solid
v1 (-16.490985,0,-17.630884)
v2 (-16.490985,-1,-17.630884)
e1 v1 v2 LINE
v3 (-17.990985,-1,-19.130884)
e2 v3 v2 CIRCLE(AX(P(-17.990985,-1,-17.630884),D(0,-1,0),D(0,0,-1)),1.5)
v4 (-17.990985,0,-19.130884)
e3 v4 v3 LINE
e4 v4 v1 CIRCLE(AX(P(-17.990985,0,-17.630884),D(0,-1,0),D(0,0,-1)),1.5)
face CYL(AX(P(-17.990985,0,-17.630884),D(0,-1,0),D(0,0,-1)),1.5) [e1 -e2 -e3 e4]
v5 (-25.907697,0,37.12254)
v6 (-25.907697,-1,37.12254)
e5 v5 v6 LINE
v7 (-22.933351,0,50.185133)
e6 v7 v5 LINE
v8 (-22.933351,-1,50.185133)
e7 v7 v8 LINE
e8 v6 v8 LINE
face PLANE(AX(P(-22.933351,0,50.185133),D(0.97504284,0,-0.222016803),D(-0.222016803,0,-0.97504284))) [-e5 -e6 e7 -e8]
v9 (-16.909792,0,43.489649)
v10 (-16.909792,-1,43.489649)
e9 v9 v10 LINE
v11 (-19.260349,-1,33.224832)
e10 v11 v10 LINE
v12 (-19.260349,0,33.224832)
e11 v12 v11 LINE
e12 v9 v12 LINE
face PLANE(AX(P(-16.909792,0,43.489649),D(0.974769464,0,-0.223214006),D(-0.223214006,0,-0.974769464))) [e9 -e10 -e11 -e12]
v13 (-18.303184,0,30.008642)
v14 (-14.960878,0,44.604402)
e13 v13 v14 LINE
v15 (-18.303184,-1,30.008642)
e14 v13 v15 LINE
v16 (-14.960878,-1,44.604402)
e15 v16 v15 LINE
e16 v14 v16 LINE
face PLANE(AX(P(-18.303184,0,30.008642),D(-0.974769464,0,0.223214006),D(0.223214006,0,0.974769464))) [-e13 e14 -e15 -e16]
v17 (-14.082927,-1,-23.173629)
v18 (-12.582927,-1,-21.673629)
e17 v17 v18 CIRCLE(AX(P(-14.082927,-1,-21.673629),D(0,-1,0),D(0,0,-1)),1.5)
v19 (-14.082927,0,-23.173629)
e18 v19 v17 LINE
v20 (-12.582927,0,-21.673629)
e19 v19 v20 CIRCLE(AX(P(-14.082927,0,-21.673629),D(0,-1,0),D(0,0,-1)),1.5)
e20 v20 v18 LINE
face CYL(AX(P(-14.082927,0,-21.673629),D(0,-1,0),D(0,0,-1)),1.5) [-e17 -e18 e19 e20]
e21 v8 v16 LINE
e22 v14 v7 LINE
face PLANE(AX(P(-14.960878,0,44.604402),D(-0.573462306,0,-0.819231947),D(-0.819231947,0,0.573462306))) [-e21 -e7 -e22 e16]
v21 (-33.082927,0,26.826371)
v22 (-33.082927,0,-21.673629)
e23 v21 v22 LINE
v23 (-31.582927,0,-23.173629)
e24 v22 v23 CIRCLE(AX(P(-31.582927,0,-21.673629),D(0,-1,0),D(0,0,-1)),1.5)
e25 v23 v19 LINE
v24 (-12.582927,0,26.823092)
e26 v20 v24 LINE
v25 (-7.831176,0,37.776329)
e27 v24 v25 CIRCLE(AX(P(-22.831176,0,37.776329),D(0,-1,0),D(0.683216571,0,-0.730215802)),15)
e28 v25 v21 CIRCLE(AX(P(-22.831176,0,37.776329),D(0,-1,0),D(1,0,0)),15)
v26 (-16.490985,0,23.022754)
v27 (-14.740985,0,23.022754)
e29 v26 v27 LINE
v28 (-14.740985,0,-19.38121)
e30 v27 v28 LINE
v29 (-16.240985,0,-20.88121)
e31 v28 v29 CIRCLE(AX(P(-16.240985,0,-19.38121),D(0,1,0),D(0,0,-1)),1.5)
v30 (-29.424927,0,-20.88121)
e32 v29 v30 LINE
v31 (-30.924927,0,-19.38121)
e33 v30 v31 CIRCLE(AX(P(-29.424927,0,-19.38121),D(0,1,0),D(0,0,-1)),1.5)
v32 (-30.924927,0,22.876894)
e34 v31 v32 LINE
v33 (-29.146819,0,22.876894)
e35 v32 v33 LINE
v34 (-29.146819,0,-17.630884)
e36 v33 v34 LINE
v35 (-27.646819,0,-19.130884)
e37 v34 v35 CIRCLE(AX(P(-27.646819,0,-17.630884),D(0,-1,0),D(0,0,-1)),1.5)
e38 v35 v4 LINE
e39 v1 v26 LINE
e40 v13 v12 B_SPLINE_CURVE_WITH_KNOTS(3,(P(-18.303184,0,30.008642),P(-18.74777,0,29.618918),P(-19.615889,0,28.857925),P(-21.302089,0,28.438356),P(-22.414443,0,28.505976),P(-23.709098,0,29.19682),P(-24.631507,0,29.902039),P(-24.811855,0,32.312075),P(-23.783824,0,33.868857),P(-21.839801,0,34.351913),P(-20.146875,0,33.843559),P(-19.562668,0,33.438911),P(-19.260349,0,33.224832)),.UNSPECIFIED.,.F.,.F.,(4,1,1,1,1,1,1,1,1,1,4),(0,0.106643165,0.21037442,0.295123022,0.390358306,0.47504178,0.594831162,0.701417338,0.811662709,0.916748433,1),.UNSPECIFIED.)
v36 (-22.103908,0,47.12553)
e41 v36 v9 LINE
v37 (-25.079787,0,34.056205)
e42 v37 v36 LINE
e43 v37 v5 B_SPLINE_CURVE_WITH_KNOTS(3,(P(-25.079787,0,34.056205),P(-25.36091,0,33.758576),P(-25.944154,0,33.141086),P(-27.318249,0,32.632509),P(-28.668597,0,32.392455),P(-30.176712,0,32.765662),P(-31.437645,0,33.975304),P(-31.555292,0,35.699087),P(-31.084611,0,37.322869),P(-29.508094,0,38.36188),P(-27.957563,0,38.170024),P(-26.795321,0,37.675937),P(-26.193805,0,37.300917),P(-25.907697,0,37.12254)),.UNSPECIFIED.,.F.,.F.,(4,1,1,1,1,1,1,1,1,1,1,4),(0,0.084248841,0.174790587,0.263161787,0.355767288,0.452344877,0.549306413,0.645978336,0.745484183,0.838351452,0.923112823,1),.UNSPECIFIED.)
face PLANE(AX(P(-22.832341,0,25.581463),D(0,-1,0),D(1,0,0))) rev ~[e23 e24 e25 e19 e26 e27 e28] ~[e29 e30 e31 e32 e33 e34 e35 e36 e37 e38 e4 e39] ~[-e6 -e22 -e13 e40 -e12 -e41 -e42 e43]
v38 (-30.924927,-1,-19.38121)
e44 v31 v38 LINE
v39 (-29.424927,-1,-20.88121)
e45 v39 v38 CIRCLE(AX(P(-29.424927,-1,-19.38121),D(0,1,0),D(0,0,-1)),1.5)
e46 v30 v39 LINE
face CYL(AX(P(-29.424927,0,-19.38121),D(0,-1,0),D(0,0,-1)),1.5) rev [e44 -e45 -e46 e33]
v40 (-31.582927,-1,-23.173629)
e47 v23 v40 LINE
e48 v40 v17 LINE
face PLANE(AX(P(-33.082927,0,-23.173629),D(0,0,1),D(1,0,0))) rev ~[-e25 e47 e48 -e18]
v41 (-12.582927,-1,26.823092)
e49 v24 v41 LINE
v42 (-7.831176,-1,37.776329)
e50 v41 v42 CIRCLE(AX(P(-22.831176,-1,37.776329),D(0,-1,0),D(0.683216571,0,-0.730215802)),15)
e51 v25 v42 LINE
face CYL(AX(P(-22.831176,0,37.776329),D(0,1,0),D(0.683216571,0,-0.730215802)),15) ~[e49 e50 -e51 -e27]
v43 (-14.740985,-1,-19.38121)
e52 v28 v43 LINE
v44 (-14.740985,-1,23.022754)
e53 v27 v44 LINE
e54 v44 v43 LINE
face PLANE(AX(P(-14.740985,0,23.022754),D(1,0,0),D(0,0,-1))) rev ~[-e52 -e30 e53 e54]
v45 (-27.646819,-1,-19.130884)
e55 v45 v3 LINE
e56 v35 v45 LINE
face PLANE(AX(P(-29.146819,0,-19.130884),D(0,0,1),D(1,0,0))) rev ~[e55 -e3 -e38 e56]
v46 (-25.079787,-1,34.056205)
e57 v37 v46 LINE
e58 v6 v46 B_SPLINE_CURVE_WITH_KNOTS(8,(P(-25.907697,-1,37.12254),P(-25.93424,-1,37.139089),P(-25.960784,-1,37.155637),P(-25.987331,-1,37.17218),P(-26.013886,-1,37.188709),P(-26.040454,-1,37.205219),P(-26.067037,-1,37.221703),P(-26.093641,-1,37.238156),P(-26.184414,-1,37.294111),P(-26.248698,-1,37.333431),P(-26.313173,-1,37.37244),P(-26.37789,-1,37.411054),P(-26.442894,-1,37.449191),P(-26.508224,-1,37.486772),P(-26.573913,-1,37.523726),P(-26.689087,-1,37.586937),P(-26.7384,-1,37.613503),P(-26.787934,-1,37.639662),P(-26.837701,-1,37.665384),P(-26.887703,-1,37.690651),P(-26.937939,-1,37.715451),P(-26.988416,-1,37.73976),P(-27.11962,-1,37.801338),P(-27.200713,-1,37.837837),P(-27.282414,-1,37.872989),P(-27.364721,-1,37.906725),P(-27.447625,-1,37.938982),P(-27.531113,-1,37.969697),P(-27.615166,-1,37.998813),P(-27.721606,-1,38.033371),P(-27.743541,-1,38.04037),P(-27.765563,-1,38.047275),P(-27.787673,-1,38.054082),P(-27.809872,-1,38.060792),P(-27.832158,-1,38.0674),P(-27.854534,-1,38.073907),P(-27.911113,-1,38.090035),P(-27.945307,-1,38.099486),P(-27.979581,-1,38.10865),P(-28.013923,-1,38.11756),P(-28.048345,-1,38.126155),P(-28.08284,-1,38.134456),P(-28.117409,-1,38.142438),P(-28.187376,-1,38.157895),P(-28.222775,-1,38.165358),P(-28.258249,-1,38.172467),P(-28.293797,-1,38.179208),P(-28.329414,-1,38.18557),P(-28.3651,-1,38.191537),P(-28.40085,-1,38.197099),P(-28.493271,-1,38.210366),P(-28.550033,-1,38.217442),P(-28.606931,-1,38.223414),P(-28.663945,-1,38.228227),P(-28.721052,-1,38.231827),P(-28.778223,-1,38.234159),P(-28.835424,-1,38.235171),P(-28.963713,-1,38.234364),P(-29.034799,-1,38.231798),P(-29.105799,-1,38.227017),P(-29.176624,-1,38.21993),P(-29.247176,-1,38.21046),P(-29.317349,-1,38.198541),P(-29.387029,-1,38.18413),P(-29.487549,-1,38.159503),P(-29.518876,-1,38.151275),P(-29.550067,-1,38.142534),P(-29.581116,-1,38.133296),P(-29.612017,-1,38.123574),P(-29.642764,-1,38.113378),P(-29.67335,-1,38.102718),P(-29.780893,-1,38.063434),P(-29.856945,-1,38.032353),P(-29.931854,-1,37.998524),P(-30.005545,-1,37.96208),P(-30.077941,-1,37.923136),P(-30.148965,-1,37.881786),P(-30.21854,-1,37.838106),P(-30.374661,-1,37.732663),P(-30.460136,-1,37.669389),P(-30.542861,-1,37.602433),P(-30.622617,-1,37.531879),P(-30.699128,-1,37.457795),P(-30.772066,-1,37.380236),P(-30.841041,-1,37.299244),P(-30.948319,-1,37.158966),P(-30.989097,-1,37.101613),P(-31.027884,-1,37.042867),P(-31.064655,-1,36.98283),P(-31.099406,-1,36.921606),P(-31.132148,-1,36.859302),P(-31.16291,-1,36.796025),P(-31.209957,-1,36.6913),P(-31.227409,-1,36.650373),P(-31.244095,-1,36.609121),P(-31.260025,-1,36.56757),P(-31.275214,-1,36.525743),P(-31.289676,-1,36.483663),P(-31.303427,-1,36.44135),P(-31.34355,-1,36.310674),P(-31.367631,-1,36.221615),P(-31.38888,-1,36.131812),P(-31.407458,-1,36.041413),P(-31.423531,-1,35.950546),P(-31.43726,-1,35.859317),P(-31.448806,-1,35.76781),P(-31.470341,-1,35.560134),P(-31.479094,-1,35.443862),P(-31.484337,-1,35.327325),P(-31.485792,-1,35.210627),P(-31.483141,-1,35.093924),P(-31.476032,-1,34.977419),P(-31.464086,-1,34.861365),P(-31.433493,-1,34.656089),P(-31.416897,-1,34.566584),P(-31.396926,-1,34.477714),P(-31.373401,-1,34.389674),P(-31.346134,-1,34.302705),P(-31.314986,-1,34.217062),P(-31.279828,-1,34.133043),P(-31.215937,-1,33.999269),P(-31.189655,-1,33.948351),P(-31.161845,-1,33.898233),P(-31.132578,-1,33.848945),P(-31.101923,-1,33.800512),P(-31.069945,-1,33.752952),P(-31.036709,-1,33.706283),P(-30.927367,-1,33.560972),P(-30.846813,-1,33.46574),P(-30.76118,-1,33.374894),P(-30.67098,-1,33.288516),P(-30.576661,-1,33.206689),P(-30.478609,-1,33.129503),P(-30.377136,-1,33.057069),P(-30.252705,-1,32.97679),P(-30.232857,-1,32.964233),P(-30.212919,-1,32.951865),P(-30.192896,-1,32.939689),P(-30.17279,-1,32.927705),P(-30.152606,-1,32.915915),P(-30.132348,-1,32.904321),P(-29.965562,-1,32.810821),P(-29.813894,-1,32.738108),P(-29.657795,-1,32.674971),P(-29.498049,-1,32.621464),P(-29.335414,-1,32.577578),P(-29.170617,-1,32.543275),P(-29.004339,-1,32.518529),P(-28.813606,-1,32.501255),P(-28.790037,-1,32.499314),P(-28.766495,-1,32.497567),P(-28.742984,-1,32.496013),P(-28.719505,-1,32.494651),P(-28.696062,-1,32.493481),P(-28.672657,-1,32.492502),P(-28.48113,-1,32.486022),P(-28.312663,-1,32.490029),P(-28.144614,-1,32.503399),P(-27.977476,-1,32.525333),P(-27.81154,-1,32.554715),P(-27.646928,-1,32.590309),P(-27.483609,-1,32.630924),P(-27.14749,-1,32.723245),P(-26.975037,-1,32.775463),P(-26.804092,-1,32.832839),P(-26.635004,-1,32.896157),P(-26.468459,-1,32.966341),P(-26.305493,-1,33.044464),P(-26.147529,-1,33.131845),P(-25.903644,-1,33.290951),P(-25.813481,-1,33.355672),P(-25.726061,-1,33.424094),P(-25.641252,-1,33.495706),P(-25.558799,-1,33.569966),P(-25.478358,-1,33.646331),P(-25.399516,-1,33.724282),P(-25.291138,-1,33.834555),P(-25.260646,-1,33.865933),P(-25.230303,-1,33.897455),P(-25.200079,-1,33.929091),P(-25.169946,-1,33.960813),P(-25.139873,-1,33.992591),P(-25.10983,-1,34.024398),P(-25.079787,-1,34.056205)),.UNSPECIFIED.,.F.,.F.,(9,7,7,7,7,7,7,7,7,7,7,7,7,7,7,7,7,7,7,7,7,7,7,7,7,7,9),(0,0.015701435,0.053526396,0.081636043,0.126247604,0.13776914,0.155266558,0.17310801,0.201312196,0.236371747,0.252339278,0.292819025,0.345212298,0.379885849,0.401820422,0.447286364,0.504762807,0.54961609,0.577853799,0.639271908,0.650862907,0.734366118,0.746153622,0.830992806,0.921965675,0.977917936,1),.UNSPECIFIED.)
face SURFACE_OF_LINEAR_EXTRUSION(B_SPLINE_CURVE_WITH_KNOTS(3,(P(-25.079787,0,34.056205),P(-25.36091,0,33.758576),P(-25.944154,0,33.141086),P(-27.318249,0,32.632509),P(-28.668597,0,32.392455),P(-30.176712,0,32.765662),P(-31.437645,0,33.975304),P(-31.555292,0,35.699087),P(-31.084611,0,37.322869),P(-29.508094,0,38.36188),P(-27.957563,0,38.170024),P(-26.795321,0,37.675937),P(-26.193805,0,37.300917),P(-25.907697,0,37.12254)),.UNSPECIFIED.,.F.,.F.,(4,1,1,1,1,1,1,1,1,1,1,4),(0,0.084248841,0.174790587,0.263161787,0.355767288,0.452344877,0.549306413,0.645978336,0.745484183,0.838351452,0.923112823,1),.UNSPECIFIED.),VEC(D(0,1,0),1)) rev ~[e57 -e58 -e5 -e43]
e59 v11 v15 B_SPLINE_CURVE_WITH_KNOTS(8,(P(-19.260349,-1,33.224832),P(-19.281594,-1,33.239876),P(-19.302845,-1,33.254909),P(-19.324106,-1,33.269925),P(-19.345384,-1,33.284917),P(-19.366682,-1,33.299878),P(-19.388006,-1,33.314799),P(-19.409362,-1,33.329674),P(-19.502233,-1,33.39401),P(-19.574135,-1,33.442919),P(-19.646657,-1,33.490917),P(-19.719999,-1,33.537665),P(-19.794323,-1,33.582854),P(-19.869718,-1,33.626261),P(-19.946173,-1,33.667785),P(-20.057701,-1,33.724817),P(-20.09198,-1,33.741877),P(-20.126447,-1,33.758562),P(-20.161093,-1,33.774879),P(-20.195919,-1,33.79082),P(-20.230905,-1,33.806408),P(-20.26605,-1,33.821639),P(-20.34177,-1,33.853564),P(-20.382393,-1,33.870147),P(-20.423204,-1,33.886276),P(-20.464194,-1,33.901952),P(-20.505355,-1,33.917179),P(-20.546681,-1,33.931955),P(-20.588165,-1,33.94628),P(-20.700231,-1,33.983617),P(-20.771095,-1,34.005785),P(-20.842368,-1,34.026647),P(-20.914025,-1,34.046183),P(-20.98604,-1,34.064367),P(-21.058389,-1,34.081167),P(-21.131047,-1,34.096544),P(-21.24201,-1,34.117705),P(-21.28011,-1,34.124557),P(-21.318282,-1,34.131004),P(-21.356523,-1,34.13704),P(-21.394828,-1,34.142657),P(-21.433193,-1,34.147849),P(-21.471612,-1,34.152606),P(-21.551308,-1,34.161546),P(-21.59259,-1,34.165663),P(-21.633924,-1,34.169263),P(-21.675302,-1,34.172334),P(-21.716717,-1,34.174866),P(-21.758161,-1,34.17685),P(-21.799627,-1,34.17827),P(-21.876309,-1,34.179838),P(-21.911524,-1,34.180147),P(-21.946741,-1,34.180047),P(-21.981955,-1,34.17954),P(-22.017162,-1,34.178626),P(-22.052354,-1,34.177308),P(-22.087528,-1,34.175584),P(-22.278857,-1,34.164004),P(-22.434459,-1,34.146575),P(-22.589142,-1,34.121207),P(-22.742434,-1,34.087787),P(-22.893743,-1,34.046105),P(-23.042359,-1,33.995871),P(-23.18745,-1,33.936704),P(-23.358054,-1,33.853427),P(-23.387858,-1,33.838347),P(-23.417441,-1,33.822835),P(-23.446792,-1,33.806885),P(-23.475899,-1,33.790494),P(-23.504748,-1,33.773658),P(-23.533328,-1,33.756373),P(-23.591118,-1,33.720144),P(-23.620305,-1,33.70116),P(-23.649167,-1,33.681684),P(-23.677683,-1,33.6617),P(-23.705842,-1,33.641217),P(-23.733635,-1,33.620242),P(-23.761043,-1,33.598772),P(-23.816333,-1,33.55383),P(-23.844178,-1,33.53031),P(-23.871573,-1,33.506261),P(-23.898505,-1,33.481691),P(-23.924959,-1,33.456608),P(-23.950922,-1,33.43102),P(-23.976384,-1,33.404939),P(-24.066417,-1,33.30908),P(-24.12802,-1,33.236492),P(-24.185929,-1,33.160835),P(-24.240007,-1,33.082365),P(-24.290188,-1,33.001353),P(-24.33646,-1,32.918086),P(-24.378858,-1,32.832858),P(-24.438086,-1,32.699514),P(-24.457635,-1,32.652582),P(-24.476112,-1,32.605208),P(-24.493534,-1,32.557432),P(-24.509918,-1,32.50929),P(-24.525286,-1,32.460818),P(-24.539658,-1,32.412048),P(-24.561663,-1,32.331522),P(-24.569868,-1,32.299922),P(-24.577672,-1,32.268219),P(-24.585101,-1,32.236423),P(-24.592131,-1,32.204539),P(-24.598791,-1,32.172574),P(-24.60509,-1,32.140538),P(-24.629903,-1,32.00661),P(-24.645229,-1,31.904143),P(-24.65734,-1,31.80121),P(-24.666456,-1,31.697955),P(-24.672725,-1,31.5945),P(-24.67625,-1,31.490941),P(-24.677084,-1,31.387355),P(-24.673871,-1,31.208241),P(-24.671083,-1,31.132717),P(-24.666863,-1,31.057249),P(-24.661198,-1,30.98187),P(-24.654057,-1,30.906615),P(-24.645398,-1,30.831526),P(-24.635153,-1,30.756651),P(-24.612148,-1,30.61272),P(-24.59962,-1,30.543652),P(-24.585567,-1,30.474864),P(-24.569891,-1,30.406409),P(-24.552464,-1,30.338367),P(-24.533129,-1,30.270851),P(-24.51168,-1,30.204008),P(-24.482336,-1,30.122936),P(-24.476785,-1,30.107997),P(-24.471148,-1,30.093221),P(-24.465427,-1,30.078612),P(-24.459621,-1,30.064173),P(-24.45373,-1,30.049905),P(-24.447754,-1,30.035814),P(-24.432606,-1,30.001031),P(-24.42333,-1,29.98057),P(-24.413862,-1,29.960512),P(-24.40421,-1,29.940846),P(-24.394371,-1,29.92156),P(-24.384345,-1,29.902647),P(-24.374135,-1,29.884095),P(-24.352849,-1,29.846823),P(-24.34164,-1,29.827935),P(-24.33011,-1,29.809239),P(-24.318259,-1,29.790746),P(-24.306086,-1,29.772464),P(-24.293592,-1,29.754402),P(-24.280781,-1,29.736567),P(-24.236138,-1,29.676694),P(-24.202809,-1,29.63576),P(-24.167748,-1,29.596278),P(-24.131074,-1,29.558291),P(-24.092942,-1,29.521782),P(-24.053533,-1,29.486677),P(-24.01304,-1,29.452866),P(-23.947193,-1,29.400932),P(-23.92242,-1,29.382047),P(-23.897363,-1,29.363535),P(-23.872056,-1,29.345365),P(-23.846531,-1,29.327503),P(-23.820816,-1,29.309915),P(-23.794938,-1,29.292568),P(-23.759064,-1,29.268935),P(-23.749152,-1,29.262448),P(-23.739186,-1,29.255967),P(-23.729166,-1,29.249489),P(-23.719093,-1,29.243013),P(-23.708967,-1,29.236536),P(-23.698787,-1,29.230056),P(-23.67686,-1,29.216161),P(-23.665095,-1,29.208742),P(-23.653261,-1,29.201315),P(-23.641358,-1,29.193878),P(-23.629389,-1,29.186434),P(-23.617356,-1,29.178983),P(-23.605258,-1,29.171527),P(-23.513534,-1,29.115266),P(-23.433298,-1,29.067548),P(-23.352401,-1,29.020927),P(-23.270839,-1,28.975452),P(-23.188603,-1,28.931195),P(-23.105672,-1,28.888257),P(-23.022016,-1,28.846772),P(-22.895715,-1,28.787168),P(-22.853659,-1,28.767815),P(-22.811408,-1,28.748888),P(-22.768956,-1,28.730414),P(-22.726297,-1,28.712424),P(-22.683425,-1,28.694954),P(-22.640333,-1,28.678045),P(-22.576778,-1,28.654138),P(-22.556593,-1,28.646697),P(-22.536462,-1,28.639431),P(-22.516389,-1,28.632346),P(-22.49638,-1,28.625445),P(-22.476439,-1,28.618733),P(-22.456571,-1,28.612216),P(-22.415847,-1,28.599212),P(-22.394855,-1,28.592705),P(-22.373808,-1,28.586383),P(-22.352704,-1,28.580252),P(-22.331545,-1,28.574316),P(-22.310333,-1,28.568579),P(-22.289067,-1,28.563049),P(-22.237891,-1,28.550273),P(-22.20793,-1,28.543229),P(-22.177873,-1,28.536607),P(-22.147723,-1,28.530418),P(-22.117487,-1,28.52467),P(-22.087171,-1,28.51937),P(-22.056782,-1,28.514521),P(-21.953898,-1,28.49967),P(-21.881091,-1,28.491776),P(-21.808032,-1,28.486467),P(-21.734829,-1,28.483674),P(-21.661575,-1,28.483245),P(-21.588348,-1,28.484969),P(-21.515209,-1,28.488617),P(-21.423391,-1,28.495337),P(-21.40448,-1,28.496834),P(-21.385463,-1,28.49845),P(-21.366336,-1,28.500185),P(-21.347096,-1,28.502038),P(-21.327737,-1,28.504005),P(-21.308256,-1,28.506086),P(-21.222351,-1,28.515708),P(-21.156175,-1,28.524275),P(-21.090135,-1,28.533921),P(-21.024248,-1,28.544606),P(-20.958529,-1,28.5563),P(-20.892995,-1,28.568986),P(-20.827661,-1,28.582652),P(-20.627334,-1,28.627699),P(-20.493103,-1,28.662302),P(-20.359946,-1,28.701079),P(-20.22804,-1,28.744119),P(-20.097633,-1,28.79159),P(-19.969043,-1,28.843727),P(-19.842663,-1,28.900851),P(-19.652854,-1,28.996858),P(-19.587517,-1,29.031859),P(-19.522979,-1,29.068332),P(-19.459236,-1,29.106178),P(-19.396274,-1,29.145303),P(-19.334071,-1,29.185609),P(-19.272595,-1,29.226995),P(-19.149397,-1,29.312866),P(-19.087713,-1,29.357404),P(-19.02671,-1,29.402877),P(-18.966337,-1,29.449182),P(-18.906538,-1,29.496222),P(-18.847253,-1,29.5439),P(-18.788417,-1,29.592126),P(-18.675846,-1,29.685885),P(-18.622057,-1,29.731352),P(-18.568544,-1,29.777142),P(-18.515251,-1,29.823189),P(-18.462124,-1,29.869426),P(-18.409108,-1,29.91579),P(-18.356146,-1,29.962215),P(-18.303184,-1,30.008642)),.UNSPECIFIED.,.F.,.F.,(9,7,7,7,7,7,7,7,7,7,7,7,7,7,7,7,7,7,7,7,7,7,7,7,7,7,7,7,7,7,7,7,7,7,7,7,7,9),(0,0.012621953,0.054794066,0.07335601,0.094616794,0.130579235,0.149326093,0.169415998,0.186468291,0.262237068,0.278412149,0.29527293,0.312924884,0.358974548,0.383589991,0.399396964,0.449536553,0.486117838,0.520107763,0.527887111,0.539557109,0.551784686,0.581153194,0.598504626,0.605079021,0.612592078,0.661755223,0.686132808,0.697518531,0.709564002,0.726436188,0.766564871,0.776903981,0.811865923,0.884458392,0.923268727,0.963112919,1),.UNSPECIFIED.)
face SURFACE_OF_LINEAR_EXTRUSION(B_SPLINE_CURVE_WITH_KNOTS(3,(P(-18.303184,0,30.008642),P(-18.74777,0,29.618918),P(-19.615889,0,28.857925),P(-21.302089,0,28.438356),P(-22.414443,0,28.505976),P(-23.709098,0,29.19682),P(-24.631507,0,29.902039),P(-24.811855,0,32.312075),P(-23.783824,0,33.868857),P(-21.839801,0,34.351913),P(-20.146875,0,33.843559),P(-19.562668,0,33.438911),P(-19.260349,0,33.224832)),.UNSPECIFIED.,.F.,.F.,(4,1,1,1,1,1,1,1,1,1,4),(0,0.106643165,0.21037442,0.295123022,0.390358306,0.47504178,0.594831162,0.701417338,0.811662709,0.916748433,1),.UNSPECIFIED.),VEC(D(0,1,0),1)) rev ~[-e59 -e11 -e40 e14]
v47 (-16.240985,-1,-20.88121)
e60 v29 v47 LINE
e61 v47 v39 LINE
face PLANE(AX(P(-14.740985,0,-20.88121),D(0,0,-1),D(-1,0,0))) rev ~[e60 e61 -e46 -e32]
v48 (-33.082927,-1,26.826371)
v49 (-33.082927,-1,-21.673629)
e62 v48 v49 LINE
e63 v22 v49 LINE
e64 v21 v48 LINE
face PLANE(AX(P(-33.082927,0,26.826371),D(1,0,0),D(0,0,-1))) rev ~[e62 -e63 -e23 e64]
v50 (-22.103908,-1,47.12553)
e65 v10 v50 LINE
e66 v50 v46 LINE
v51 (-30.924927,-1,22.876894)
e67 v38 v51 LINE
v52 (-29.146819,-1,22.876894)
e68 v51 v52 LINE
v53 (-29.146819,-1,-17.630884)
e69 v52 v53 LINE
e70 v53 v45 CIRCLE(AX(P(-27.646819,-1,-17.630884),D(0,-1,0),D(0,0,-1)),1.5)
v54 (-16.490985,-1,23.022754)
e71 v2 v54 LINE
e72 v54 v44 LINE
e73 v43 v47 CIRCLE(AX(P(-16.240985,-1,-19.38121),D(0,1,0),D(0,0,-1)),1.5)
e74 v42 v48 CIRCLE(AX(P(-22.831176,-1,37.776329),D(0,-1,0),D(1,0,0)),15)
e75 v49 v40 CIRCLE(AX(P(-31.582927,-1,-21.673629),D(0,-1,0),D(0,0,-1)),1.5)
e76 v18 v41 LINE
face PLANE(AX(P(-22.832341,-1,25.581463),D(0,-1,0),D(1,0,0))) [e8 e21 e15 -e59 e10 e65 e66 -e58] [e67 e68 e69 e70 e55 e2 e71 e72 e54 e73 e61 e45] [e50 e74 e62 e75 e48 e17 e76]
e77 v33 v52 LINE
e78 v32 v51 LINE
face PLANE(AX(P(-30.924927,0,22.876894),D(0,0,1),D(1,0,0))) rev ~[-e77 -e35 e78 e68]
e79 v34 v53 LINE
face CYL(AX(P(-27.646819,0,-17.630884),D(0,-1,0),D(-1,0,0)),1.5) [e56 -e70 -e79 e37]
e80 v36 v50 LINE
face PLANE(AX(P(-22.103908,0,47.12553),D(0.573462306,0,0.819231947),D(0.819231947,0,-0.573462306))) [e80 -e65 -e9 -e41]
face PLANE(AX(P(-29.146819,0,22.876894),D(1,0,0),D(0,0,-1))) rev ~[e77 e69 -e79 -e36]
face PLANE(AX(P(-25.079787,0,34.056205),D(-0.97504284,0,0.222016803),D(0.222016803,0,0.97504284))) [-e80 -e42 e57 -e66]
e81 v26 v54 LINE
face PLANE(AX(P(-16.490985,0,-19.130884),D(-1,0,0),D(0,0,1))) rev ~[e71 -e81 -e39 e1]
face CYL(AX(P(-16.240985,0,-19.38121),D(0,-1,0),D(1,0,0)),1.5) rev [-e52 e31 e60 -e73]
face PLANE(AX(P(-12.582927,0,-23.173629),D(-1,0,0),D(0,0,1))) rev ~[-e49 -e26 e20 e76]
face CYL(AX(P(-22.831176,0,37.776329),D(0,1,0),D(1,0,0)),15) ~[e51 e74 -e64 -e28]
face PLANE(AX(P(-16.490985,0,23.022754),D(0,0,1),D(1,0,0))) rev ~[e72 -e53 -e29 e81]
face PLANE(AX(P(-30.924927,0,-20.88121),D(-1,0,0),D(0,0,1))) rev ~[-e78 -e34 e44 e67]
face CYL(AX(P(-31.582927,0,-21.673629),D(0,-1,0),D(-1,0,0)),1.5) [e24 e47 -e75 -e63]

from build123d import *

# Parameters (mm, degrees)
F1_DEPTH      = 1
F2_R          = 1.5
F3_R          = 1.5
F4_R          = 1.5
F5_R          = 1.5
F7_DEPTH      = 2
F7_DEPTH_BACK = 2


with BuildPart() as f1:
    # F0 (on Front) → F1 (new body)
    with BuildSketch(Plane.XZ):
        with BuildLine():
            Line((-12.582927011, 26.8263705075), (-33.082927011, 26.8263705075))
            ThreePointArc((-33.082927011, 26.8263705075), (-22.833574452, 22.7763292614), (-12.582927011, 26.8230920433))
            Line((-12.582927011, 26.8230920433), (-12.582927011, 26.8263705075))
        make_face()
        with BuildLine():
            ThreePointArc((-12.582927011, 26.8230920433), (-9.0702939094, 31.8065605846), (-7.8311755758, 37.7763290696))
            ThreePointArc((-7.8311755758, 37.7763290696), (-28.7987432743, 51.5381652757), (-33.082927011, 26.8263705075))
            Line((-33.082927011, 26.8263705075), (-12.582927011, 26.8263705075))
            Line((-12.582927011, 26.8263705075), (-12.582927011, 26.8230920433))
        make_face()
        with BuildLine():
            ThreePointArc((-12.582927011, 26.8230920433), (-22.833574452, 22.7763292614), (-33.082927011, 26.8263705075))
            Line((-33.082927011, 26.8263705075), (-33.082927011, -23.1736294925))
            Line((-33.082927011, -23.1736294925), (-12.582927011, -23.1736294925))
            Line((-12.582927011, -23.1736294925), (-12.582927011, 26.8230920433))
        make_face()
        Polygon((-30.924927011, -19.1308837384), (-30.924927011, 22.8768941015), (-29.1468191239, 22.8768941015), (-29.1468191239, -19.1308837384), (-16.4909848869, -19.1308837384), (-16.4909848869, 23.0227541178), (-14.7409848869, 23.0227541178), (-14.7409848869, -19.1308837384), (-14.7409848869, -20.8812095225), (-16.4909848869, -20.8812095225), (-29.1468191239, -20.8812095225), (-30.924927011, -20.8812095225), align=None, mode=Mode.SUBTRACT)
    extrude(amount=F1_DEPTH)

    # F2
    f2_edges = [f1.edges().sort_by_distance(p)[0] for p in [
        (-33.082927, -0.5, -23.173629),
        (-29.146819, -0.5, -19.130884),
    ]]
    fillet(f2_edges, radius=F2_R)

    # F3
    f3_edges = [f1.edges().sort_by_distance(p)[0] for p in [
        (-12.582927, -0.5, -23.173629),
        (-16.490985, -0.5, -19.130884),
    ]]
    fillet(f3_edges, radius=F3_R)

    # F4
    f4_edges = [f1.edges().sort_by_distance(p)[0] for p in [
        (-14.740985, -0.5, -20.88121),
    ]]
    fillet(f4_edges, radius=F4_R)

    # F5
    f5_edges = [f1.edges().sort_by_distance(p)[0] for p in [
        (-30.924927, -0.5, -20.88121),
    ]]
    fillet(f5_edges, radius=F5_R)

    # F6 (on Front) → F7 (cut, two sides)
    with BuildSketch(Plane.XZ) as f7_sk:
        with BuildLine():
            Line((-22.933350876, 50.1851327717), (-25.9076971561, 37.1225401759))
            add(Edge.make_bspline(
                [(-25.0797867775, 34.0562053025), (-25.3609096182, 33.7585758872), (-25.9441535641, 33.1410858455), (-27.3182486706, 32.6325086478), (-28.6685969713, 32.3924554697), (-30.1767118002, 32.7656618857), (-31.4376451635, 33.9753036652), (-31.5552921939, 35.6990873468), (-31.0846106959, 37.3228691535), (-29.5080944822, 38.3618798355), (-27.9575632828, 38.1700241498), (-26.7953208757, 37.6759371361), (-26.1938047499, 37.3009165185), (-25.9076971561, 37.1225401759)],
                knots=[0, 0, 0, 0, 0.084248841, 0.1747905874, 0.2631617867, 0.3557672882, 0.4523448771, 0.5493064131, 0.6459783357, 0.7454841832, 0.8383514519, 0.9231128225, 1, 1, 1, 1], degree=3))
            Line((-25.0797867775, 34.0562053025), (-22.1039076981, 47.1255295732))
            Line((-22.1039076981, 47.1255295732), (-16.9097921359, 43.4896490436))
            Line((-16.9097921359, 43.4896490436), (-19.2603488405, 33.22483214))
            add(Edge.make_bspline(
                [(-18.3031838387, 30.0086420029), (-18.7477703665, 29.6189181536), (-19.6158886751, 28.8579251286), (-21.3020885386, 28.4383556198), (-22.414443159, 28.5059758099), (-23.7090984524, 29.1968199204), (-24.6315072114, 29.9020393492), (-24.8118553907, 32.312074703), (-23.7838236389, 33.8688571638), (-21.8398009443, 34.3519133542), (-20.1468753191, 33.8435589575), (-19.562668302, 33.4389105276), (-19.2603488405, 33.22483214)],
                knots=[0, 0, 0, 0, 0.1066431649, 0.2103744203, 0.2951230217, 0.3903583058, 0.4750417804, 0.5948311616, 0.7014173376, 0.8116627094, 0.9167484333, 1, 1, 1, 1], degree=3))
            Line((-18.3031838387, 30.0086420029), (-14.9608775973, 44.6044020355))
            Line((-14.9608775973, 44.6044020355), (-22.933350876, 50.1851327717))
        make_face()
        Polygon((-7.1242011416, 31.8749807051), (-3.9289291017, 42.9637953639), (-3.6031708381, 44.3944450197), (-4.0062949993, 45.5680526793), align=None)
    extrude(amount=F7_DEPTH, mode=Mode.SUBTRACT)
    extrude(f7_sk.sketch, amount=-F7_DEPTH_BACK, mode=Mode.SUBTRACT)


solid = f1.part
